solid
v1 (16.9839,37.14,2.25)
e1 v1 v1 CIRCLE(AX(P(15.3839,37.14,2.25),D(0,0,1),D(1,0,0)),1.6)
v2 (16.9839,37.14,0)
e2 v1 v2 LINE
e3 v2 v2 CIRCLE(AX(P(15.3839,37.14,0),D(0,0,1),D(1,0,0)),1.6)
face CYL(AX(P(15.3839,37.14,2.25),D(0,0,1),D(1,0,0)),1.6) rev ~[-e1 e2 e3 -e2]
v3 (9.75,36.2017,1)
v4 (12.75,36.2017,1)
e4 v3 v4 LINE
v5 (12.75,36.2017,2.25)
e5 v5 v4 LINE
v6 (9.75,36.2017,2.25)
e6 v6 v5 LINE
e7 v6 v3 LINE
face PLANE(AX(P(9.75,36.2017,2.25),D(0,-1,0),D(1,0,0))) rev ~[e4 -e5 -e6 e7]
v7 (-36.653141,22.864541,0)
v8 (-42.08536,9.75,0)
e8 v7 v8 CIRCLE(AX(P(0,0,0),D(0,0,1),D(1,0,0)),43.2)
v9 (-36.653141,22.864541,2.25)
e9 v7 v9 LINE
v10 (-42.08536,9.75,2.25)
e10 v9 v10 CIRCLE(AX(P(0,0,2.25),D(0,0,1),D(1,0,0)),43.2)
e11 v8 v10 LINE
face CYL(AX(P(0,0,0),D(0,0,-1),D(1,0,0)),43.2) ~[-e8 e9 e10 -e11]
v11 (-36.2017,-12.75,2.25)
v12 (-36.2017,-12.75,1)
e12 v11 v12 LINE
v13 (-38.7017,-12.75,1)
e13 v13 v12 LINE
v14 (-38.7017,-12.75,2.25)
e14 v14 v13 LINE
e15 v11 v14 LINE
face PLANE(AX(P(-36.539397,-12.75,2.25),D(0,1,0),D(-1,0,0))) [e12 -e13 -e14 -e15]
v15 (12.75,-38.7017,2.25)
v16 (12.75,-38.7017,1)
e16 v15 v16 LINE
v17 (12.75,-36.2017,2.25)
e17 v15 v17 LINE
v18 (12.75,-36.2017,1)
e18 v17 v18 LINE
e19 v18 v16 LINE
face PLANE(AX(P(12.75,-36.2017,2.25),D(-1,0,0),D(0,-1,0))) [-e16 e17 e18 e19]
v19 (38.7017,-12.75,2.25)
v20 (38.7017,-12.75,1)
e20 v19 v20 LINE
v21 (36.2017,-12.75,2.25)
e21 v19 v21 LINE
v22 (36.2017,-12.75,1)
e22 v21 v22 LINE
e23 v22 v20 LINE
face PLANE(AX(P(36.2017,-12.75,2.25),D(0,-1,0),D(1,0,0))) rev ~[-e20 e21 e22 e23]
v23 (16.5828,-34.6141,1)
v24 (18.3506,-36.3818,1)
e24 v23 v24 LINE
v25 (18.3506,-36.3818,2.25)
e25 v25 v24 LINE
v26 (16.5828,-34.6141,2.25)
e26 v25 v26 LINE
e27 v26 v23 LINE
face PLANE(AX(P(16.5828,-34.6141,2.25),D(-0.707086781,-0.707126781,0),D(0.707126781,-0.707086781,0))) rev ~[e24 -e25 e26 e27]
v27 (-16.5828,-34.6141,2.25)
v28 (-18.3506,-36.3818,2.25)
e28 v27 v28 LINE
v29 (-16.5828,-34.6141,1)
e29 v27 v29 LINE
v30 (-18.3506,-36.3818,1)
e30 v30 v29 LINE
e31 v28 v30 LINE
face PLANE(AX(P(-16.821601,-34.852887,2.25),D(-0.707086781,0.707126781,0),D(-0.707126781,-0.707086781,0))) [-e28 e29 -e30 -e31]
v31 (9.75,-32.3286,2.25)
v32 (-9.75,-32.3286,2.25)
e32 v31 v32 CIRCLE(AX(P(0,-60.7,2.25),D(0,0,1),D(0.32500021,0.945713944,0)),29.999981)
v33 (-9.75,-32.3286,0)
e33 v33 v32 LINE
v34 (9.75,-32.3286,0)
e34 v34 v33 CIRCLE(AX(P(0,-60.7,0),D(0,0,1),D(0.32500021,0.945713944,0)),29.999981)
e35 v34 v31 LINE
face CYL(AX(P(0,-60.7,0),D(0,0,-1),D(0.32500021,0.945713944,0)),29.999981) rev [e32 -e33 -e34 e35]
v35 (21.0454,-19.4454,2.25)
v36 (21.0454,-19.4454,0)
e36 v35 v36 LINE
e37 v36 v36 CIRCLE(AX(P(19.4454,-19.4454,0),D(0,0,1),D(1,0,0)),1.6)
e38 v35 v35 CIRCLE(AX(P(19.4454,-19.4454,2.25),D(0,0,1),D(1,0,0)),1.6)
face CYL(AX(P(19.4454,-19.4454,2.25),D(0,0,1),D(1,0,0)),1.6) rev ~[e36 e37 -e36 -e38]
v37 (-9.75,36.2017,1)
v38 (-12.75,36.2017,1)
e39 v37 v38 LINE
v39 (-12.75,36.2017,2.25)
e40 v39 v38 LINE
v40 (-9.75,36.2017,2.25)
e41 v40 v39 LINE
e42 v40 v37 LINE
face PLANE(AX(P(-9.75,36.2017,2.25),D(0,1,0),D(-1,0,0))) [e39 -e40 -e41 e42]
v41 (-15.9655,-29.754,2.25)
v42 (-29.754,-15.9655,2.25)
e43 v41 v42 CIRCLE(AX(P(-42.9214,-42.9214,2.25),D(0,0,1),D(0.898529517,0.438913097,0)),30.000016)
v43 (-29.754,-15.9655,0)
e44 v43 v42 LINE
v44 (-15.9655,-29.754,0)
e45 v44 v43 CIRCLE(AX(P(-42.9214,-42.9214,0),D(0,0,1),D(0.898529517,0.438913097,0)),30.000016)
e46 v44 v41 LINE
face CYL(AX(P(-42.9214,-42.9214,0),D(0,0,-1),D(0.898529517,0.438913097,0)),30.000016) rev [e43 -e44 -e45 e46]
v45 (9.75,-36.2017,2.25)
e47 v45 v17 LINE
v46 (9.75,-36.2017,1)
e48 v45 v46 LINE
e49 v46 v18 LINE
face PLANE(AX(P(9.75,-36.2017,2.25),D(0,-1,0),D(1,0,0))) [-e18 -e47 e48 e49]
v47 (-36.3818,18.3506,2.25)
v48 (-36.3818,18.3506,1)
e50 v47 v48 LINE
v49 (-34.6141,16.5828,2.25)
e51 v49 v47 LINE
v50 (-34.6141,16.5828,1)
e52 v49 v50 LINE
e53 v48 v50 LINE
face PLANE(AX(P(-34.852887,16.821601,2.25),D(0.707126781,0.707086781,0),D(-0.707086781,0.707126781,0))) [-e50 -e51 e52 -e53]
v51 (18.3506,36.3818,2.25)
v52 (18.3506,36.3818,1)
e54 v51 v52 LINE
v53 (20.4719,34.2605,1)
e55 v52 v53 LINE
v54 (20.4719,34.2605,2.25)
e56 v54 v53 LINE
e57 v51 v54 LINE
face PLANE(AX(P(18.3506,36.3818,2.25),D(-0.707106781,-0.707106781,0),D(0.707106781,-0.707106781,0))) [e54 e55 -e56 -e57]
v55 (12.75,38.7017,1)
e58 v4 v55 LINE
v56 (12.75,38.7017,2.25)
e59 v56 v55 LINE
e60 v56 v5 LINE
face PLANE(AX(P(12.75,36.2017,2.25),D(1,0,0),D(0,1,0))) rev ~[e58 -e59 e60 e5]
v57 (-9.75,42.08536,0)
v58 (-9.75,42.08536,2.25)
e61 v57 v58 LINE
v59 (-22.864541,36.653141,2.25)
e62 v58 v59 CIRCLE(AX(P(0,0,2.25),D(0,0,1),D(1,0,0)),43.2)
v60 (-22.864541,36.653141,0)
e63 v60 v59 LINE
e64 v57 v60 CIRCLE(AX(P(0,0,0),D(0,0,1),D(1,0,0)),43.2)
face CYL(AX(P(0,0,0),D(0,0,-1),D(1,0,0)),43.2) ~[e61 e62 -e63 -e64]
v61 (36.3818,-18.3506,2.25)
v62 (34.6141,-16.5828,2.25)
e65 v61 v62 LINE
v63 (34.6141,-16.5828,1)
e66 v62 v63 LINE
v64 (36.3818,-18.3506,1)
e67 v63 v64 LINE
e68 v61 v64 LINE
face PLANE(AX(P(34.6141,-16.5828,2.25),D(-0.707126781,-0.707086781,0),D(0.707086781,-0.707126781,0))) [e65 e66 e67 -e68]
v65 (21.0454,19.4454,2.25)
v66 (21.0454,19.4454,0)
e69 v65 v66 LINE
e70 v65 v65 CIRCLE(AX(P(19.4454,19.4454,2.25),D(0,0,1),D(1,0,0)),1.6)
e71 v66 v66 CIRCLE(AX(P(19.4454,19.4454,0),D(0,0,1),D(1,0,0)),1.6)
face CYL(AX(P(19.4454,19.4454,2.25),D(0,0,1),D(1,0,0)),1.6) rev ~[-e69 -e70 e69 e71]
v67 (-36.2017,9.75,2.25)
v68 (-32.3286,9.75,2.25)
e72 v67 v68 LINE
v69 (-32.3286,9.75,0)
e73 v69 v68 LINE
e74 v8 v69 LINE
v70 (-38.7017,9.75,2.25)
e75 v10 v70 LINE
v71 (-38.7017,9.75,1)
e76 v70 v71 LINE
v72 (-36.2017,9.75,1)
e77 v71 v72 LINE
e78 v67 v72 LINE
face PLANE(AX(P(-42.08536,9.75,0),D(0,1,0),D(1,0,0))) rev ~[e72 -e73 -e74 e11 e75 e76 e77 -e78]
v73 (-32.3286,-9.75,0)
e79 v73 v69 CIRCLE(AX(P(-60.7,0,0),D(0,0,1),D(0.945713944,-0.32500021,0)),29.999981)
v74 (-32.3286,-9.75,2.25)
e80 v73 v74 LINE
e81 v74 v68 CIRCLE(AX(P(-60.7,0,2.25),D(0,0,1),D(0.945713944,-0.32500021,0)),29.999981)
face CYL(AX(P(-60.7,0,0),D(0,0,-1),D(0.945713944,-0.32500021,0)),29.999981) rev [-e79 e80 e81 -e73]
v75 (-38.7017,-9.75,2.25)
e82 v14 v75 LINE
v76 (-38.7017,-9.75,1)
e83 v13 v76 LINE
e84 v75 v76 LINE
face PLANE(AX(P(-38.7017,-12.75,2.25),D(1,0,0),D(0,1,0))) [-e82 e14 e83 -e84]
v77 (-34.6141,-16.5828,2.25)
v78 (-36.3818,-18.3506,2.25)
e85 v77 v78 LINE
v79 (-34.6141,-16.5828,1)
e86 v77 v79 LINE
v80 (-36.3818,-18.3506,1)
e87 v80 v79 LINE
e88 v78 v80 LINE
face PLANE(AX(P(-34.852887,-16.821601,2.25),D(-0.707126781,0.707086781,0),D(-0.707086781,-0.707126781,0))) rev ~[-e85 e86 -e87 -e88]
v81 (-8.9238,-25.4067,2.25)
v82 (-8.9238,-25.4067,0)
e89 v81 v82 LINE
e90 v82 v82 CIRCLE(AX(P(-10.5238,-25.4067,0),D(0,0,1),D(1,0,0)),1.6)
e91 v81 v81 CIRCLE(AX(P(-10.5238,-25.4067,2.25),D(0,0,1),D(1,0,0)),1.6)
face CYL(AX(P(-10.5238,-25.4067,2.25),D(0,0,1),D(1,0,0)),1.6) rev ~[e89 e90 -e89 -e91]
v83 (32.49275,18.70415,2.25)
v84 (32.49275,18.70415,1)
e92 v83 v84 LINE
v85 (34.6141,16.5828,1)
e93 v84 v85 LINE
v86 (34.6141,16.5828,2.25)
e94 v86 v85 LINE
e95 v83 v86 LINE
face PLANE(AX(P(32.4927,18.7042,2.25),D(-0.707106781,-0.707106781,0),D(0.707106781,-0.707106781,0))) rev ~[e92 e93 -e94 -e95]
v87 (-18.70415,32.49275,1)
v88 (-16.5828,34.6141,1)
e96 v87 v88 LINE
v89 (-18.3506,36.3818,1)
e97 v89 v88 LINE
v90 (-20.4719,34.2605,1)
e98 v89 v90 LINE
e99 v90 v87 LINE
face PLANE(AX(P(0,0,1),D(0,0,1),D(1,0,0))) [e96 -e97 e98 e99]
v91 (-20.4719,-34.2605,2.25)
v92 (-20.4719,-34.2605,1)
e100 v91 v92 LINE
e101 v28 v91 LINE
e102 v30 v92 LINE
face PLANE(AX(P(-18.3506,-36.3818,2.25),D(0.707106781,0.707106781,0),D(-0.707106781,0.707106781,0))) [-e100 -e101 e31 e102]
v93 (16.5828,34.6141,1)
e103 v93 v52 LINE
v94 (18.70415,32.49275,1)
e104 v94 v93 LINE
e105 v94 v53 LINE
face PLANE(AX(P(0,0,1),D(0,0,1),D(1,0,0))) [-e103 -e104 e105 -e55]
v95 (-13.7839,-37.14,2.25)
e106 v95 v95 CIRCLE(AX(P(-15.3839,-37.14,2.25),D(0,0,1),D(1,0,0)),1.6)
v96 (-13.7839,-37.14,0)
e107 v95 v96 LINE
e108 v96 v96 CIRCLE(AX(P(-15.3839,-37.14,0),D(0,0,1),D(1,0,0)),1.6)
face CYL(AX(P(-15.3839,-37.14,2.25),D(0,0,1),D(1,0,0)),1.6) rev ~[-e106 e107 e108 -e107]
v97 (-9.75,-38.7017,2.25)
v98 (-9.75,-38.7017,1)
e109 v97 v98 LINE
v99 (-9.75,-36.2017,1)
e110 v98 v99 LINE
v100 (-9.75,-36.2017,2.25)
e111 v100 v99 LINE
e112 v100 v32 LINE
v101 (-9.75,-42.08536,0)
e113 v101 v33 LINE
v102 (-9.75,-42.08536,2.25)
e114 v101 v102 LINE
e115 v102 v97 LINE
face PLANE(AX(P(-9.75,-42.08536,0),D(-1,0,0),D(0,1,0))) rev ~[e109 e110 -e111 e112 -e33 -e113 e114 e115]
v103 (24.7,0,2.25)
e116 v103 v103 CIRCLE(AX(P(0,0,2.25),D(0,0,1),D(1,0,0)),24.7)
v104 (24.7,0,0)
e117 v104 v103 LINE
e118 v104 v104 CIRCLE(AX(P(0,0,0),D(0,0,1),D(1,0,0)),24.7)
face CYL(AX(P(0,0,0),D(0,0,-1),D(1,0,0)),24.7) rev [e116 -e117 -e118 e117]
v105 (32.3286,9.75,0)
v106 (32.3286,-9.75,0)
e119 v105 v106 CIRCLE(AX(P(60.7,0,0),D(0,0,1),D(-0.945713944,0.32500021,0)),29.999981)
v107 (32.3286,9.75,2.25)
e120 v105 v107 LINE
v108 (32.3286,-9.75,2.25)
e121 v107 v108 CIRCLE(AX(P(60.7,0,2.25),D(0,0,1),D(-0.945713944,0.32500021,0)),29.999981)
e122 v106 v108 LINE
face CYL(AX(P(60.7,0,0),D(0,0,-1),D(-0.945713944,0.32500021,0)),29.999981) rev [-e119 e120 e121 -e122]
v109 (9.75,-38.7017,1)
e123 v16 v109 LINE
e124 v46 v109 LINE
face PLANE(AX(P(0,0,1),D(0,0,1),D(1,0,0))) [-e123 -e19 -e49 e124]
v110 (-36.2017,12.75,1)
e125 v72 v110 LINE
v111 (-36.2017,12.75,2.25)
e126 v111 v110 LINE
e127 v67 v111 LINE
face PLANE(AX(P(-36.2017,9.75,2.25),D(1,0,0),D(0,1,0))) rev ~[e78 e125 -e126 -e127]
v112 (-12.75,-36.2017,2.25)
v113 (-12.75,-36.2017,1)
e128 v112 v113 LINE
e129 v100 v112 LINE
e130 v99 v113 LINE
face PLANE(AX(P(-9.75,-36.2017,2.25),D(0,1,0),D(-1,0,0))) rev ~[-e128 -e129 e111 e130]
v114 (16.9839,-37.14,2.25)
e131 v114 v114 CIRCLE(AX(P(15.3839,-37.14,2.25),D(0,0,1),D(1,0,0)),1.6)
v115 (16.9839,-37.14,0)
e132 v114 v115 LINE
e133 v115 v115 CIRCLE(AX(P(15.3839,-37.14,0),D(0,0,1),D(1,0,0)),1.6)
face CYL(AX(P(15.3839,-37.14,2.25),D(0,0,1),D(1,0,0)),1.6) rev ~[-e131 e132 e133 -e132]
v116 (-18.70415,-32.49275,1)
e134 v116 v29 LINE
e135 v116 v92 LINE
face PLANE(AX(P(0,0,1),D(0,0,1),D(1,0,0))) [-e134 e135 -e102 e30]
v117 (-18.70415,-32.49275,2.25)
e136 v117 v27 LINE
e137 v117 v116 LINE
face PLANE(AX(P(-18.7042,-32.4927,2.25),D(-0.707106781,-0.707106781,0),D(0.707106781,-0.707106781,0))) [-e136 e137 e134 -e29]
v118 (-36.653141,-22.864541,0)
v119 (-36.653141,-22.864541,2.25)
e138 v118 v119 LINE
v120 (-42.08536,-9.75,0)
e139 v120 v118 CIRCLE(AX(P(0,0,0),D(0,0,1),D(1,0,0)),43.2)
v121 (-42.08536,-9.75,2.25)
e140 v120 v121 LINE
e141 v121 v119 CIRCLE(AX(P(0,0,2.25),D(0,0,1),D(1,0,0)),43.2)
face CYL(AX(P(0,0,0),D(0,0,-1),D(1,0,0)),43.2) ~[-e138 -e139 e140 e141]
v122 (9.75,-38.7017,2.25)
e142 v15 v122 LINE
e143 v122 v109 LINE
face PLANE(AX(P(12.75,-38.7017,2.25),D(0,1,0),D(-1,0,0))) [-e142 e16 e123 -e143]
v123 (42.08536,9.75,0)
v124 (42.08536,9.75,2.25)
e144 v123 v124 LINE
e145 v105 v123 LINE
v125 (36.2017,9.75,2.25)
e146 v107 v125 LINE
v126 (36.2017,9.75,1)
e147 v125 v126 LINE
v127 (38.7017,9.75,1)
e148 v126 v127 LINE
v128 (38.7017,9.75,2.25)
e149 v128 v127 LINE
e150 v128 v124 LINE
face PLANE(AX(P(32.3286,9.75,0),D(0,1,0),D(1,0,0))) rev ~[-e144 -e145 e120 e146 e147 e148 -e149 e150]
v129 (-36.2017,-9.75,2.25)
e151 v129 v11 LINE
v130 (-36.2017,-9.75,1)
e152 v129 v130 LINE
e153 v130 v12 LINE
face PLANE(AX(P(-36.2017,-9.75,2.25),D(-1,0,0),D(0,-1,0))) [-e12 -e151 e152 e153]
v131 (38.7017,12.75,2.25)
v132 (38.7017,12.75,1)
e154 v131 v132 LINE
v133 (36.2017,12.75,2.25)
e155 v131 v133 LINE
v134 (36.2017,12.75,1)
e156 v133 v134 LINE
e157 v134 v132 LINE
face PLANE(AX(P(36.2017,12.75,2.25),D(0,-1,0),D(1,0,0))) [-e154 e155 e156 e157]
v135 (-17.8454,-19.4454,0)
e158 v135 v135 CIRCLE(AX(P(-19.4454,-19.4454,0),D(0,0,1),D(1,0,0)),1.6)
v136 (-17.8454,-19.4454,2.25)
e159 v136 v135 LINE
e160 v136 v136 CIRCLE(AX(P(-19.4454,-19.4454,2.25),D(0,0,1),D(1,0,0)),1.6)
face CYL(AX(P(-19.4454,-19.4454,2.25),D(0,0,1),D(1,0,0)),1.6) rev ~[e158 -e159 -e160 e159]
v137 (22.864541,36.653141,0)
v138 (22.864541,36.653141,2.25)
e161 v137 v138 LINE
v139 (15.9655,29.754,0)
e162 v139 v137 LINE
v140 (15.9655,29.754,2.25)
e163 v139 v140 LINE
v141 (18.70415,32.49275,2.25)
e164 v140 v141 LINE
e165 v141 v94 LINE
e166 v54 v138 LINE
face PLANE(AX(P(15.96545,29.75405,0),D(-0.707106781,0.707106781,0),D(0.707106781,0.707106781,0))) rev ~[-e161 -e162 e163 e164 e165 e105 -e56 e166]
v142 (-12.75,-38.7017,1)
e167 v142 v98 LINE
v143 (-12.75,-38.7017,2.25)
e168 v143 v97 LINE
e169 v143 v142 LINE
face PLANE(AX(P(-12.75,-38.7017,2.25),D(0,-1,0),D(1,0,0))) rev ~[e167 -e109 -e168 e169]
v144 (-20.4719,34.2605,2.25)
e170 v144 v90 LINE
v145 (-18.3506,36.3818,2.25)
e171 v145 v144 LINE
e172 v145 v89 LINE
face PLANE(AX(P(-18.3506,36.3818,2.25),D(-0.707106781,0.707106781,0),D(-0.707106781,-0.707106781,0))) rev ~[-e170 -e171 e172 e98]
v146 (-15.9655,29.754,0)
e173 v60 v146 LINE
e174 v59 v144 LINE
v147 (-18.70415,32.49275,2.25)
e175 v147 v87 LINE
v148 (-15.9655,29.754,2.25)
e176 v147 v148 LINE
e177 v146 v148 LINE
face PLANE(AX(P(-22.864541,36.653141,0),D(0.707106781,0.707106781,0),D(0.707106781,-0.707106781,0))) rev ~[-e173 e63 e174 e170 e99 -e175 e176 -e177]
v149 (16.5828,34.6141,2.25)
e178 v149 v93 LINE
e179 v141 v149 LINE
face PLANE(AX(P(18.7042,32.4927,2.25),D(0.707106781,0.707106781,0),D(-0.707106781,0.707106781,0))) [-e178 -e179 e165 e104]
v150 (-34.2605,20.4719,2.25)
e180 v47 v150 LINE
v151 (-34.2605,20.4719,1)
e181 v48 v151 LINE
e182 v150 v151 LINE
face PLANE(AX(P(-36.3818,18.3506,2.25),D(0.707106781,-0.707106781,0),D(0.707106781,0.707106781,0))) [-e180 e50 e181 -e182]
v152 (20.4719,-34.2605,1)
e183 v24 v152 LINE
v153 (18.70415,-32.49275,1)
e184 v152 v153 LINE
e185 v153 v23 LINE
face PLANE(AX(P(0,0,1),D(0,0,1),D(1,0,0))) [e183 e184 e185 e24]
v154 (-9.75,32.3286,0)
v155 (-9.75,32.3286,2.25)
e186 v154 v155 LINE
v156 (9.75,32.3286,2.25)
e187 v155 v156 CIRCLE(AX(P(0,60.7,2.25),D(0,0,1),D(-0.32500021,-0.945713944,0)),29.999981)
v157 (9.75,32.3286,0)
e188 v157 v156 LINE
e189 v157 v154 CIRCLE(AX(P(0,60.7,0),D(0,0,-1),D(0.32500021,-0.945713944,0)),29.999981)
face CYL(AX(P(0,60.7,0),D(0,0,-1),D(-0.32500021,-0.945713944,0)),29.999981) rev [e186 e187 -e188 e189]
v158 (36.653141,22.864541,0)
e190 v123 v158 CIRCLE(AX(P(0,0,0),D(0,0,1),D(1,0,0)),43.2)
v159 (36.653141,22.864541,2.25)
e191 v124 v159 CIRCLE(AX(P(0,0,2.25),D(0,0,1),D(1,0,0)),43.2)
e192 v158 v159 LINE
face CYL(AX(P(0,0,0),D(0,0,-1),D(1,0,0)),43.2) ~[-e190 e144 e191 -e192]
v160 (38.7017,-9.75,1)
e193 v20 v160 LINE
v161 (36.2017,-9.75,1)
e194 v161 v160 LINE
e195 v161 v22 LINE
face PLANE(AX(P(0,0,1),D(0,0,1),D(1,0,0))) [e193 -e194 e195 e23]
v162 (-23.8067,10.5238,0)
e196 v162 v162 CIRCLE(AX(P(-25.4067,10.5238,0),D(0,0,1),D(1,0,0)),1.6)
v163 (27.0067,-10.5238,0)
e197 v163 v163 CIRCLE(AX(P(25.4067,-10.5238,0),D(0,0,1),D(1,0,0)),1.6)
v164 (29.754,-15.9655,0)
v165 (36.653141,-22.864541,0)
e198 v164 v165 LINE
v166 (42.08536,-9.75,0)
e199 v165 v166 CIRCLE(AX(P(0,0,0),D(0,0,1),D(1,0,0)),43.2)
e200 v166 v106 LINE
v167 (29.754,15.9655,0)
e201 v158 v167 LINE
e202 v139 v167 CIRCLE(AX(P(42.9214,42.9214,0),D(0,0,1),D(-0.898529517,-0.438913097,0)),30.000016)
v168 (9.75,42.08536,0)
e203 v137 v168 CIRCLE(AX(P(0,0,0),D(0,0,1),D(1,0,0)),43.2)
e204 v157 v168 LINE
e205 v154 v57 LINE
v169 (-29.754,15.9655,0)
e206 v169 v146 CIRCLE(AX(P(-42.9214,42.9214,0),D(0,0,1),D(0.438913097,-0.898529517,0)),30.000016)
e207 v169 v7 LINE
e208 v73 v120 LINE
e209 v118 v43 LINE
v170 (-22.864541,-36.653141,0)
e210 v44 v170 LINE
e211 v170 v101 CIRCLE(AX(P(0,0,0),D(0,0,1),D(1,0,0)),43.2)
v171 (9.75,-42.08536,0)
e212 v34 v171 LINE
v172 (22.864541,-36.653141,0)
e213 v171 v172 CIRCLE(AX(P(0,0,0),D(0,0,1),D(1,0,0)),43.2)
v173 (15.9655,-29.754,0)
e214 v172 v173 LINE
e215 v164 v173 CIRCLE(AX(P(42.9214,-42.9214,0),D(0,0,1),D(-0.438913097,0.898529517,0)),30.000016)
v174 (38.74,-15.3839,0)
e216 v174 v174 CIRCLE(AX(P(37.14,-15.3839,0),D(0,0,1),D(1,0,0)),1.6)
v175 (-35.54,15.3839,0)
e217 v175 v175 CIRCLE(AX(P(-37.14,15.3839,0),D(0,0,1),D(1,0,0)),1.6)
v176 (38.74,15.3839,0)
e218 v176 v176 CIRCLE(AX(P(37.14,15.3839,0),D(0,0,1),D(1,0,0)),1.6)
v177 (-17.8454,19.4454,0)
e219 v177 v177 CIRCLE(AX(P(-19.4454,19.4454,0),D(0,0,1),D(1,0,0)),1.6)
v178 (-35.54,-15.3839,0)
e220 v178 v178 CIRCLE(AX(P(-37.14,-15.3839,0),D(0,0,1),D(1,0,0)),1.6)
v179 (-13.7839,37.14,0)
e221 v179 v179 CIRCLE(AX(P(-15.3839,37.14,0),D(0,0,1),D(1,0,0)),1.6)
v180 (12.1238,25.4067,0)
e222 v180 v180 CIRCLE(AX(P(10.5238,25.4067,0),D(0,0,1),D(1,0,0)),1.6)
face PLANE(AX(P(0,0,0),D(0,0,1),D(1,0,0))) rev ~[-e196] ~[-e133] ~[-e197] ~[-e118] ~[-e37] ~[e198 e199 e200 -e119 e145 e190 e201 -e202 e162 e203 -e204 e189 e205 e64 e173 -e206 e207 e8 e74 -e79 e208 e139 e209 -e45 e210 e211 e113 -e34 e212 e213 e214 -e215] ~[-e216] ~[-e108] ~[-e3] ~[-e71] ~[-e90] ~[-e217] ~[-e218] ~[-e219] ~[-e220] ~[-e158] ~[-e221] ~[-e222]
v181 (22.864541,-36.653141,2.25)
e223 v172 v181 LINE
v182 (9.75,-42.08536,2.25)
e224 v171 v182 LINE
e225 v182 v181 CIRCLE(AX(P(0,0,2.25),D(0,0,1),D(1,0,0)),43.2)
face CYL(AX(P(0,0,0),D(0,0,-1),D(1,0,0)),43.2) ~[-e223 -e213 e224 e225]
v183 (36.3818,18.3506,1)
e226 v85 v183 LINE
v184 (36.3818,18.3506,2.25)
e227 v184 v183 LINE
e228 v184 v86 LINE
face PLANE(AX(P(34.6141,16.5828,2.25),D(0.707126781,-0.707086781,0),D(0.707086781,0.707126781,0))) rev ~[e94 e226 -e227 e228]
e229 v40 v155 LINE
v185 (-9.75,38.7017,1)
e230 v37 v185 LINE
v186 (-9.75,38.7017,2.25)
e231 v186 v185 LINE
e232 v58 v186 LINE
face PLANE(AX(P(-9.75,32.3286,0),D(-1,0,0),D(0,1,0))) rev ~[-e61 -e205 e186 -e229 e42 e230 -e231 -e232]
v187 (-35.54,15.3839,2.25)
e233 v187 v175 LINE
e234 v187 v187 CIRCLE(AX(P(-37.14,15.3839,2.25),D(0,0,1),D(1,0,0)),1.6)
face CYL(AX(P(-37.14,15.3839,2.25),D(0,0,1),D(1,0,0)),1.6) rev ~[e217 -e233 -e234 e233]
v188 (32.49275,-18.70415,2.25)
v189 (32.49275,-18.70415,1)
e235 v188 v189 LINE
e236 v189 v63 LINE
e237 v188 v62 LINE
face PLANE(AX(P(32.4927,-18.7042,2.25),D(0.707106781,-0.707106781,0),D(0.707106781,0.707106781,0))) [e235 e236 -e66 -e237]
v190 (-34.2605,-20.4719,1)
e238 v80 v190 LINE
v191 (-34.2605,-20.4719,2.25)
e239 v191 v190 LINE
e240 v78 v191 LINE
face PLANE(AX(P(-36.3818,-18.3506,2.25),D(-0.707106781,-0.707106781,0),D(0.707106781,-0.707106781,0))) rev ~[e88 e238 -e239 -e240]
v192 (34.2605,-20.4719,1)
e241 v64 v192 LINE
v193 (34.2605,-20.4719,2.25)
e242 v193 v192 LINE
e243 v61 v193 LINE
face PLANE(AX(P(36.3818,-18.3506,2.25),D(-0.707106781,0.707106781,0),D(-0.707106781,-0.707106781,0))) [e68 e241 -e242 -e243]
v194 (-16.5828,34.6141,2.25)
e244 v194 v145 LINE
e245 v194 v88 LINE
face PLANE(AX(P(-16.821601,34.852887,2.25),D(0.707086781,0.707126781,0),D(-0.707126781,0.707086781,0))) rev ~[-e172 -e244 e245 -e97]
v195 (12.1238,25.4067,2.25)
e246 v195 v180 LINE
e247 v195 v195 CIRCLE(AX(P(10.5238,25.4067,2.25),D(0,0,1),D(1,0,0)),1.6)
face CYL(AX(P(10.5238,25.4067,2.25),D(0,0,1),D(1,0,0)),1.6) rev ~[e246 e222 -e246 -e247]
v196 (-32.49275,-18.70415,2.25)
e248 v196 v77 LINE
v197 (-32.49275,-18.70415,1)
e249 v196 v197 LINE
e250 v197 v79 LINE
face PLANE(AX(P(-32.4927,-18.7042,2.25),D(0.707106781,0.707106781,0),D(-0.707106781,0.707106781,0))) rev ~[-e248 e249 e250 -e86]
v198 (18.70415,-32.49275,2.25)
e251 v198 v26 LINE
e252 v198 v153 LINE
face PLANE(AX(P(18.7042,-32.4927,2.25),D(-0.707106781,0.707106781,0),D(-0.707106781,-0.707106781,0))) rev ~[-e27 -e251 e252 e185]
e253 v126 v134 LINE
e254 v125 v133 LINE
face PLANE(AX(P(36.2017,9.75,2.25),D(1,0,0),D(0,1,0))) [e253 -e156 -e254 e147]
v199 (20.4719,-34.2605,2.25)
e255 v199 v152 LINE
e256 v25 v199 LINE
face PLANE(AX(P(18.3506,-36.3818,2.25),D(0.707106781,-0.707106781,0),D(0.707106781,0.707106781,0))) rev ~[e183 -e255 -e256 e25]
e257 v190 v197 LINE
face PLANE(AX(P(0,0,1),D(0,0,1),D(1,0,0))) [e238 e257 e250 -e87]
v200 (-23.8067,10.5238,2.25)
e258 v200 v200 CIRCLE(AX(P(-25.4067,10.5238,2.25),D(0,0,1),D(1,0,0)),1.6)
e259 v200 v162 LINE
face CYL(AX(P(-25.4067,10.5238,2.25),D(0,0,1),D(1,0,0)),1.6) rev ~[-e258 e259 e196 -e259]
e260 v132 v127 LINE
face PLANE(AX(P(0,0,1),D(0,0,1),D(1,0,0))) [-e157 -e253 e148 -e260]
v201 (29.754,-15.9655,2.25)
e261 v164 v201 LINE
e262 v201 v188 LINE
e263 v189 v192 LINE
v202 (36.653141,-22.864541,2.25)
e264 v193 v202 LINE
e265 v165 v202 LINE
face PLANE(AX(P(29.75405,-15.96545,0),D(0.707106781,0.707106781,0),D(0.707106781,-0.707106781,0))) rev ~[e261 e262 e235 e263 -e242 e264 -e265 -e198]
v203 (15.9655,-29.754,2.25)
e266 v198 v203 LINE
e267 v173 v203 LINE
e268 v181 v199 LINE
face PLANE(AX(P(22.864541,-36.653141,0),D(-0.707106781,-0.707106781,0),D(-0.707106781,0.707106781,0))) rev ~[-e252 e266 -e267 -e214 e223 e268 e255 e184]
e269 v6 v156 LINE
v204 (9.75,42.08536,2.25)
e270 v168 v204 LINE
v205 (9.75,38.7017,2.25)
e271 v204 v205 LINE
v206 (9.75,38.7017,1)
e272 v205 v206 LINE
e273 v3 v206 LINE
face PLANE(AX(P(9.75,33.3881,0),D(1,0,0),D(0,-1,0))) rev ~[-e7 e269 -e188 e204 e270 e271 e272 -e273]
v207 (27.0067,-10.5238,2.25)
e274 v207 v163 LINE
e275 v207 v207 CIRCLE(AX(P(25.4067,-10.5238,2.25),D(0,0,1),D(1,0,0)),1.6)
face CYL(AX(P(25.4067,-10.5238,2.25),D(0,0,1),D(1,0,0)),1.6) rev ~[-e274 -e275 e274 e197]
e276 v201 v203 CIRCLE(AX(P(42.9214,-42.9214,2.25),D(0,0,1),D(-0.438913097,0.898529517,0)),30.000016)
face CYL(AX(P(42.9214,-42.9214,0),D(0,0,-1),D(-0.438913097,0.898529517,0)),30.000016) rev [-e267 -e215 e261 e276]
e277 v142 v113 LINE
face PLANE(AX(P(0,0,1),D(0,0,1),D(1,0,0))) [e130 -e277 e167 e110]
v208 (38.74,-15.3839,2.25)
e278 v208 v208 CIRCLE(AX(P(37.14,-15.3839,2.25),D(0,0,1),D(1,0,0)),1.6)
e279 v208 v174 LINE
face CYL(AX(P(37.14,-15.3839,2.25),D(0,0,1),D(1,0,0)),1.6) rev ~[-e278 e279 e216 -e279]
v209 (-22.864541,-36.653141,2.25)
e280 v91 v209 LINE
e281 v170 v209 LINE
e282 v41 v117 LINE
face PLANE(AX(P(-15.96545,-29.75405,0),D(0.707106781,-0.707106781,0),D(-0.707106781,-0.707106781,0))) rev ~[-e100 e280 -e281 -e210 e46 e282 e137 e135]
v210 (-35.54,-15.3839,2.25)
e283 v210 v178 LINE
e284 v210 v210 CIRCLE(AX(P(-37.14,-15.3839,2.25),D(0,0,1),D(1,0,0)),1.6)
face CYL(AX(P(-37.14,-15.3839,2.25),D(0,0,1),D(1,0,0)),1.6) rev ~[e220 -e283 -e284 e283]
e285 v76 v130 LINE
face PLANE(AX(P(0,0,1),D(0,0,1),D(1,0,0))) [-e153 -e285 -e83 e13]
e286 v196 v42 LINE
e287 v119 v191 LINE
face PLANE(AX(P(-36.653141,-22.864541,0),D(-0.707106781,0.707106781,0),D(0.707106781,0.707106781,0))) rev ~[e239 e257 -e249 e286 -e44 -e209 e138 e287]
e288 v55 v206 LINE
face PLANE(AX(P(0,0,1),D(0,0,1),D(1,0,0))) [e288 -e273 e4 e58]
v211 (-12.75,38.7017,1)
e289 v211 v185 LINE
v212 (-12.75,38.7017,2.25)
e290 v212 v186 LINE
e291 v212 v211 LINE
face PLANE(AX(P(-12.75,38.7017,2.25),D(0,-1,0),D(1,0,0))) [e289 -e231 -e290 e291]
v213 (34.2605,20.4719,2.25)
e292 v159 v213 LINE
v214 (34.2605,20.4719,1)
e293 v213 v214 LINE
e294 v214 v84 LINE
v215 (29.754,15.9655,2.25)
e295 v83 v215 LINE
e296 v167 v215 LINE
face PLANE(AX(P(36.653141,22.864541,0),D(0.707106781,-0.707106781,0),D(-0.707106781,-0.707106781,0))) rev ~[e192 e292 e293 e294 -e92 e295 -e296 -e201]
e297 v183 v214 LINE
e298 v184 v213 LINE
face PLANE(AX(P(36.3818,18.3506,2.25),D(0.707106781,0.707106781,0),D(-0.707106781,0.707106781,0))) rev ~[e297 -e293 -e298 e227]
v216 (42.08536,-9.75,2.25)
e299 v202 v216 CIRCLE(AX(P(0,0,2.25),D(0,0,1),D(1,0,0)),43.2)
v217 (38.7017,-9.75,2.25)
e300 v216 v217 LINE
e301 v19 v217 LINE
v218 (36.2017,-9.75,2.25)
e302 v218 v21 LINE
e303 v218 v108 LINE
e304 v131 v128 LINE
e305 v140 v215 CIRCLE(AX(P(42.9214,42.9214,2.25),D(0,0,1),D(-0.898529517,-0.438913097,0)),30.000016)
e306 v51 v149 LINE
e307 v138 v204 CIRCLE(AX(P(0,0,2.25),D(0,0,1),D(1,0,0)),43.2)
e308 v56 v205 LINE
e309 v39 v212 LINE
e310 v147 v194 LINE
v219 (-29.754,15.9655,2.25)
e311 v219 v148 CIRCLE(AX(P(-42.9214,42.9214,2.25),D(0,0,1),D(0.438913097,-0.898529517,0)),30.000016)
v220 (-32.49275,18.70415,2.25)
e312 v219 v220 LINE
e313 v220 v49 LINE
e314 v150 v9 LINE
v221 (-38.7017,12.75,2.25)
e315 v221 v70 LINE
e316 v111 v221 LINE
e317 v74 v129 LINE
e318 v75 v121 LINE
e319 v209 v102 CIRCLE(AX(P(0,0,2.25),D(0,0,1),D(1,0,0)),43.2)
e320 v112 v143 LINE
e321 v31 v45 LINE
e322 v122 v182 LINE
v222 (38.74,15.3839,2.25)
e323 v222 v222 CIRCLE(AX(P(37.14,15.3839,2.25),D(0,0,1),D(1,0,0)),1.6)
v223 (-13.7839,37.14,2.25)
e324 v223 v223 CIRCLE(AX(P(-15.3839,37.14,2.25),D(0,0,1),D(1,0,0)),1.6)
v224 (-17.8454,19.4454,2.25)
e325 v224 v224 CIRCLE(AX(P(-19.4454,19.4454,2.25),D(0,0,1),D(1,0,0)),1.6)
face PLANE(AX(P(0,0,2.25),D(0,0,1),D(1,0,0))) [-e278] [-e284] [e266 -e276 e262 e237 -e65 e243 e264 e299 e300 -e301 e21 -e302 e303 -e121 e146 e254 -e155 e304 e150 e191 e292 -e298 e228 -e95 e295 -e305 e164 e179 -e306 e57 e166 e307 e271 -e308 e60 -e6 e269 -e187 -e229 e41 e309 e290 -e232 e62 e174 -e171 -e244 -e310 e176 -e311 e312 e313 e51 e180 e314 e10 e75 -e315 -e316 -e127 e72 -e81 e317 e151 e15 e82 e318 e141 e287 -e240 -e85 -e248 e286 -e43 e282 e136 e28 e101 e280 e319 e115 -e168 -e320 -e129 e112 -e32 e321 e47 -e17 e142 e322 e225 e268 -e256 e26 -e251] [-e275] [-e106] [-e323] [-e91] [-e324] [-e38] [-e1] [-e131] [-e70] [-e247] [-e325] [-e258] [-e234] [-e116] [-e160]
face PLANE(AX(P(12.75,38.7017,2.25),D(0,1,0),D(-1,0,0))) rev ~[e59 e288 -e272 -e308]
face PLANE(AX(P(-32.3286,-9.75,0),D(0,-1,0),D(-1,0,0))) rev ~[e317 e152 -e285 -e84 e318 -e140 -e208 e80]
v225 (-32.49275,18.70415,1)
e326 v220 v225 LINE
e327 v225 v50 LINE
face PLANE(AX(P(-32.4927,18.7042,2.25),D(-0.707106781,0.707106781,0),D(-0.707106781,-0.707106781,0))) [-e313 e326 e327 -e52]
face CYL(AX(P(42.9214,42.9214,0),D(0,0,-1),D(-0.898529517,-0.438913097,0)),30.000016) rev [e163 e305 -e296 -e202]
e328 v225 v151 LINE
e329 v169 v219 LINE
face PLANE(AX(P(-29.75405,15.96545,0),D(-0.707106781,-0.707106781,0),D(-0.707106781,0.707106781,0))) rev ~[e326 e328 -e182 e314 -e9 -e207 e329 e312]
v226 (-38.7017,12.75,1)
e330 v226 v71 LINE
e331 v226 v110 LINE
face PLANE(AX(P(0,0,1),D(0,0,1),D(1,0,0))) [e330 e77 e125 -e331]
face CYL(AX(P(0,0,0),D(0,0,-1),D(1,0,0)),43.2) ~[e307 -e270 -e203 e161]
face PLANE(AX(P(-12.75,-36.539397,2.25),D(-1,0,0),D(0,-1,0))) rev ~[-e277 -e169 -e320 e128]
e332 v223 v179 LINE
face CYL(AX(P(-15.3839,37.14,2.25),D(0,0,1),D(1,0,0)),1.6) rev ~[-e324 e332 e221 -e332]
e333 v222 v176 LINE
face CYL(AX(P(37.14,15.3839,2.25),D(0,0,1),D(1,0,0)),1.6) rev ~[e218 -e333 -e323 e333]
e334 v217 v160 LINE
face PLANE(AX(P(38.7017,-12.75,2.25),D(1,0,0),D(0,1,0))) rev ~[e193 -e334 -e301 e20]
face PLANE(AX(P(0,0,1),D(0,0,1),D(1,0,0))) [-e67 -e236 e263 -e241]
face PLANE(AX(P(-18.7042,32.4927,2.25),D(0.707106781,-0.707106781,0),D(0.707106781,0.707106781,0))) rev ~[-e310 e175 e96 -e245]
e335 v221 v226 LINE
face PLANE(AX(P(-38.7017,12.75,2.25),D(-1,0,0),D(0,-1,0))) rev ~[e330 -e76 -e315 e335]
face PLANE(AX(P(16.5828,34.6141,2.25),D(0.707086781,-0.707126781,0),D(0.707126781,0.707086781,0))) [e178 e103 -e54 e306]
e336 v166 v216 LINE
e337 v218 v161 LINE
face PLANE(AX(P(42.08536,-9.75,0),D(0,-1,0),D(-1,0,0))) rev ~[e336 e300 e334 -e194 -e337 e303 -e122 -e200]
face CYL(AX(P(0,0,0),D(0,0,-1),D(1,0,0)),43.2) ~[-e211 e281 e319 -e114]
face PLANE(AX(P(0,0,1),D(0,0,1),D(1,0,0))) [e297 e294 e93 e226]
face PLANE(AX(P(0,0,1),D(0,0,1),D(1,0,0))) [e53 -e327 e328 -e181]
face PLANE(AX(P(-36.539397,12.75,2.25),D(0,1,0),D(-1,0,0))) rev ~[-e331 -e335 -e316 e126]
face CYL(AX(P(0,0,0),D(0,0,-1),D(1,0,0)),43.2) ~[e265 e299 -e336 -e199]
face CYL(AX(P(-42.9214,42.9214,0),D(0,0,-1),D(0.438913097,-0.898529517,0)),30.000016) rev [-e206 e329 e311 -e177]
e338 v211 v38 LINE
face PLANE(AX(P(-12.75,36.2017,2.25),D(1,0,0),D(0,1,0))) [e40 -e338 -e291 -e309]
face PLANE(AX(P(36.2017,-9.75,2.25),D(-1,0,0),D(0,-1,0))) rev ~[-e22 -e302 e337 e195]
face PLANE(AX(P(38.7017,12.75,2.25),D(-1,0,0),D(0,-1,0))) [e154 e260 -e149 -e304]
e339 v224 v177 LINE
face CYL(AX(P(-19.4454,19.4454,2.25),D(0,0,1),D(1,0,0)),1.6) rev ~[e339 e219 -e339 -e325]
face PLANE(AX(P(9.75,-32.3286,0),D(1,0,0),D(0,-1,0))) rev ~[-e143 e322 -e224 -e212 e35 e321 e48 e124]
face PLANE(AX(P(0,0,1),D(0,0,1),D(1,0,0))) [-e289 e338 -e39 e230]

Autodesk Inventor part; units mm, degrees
ref_plane "YZ Plane" through (0, 0, 0) normal (1, 0, 0) x (0, 1, 0)
ref_plane "XZ Plane" through (0, 0, 0) normal (0, 1, 0) x (-1, 0, 0)
ref_plane "XY Plane" through (0, 0, 0) normal (0, 0, 1) x (1, 0, 0)
sketch "スケッチ1" plane through (0, 0, 0) normal (0, 0, 1) x (1, 0, 0)
  arc A0 (-9.75, 33.3881) -> (9.75, 33.3881) centre (0, 60.7) ccw
  arc A1 (-9.75, 32.3286) -> (9.75, 32.3286) centre (0, 60.7) ccw
  line L0 (-9.75, 57.7) -> (9.75, 57.7)
  line L1 (9.75, 57.7) -> (9.75, 30.7)
  line L2 (9.75, 30.7) -> (-9.75, 30.7)
  line L3 (-9.75, 30.7) -> (-9.75, 57.7)
  line L4 (-9.75, 44.7) -> (9.75, 44.7)
  circle A2 centre (0, 0) radius 23.7 construction
  circle A3 centre (0, 0) radius 24.7
  circle A4 centre (0, 0) radius 30.7 construction
  circle A5 centre (0, 0) radius 44.7
  line L5 (-28.6025, 14.8139) -> (-47.6944, 33.9058)
  arc A6 (-29.754, 15.9655) -> (-15.9655, 29.754) centre (-42.9214, 42.9214) ccw
  line L6 (-33.9058, 47.6944) -> (-14.8139, 28.6025)
  line L7 (-30.7, -9.75) -> (-57.7, -9.75)
  arc A7 (-32.3286, -9.75) -> (-32.3286, 9.75) centre (-60.7, 0) ccw
  line L8 (-57.7, 9.75) -> (-30.7, 9.75)
  line L9 (-14.8139, -28.6025) -> (-33.9058, -47.6944)
  arc A8 (-15.9655, -29.754) -> (-29.754, -15.9655) centre (-42.9214, -42.9214) ccw
  line L10 (-47.6944, -33.9058) -> (-28.6025, -14.8139)
  line L11 (9.75, -30.7) -> (9.75, -57.7)
  arc A9 (9.75, -32.3286) -> (-9.75, -32.3286) centre (0, -60.7) ccw
  line L12 (-9.75, -57.7) -> (-9.75, -30.7)
  line L13 (28.6025, -14.8139) -> (47.6944, -33.9058)
  arc A10 (29.754, -15.9655) -> (15.9655, -29.754) centre (42.9214, -42.9214) ccw
  line L14 (33.9058, -47.6944) -> (14.8139, -28.6025)
  line L15 (30.7, 9.75) -> (57.7, 9.75)
  arc A11 (32.3286, 9.75) -> (32.3286, -9.75) centre (60.7, 0) ccw
  line L16 (57.7, -9.75) -> (30.7, -9.75)
  line L17 (14.8139, 28.6025) -> (33.9058, 47.6944)
  arc A12 (15.9655, 29.754) -> (29.754, 15.9655) centre (42.9214, 42.9214) ccw
  line L18 (47.6944, 33.9058) -> (28.6025, 14.8139)
  circle A13 centre (0, 0) radius 43.2
  point P0 (0, 57.7)
  point P1 (-30.5033, 16.7147)
  point P2 (-24.7134, 38.502)
  point P3 (-16.7147, 30.5033)
  point P4 (-33.3881, -9.75)
  point P5 (-44.7, 9.75)
  point P6 (-33.3881, 9.75)
  point P7 (-16.7147, -30.5033)
  point P8 (-38.502, -24.7134)
  point P9 (-30.5033, -16.7147)
  point P10 (9.75, -33.3881)
  point P11 (-9.75, -44.7)
  point P12 (-9.75, -33.3881)
  point P13 (30.5033, -16.7147)
  point P14 (24.7134, -38.502)
  point P15 (16.7147, -30.5033)
  point P16 (33.3881, 9.75)
  point P17 (44.7, -9.75)
  point P18 (33.3881, -9.75)
  point P19 (16.7147, 30.5033)
  point P20 (38.502, 24.7134)
  point P21 (30.5033, 16.7147)
  point P22 (36.6531, -22.8646)
  point P23 (42.0854, -9.75)
  point P24 (42.0854, 9.75)
  point P25 (36.6531, 22.8646)
  point P26 (22.8646, 36.6531)
  point P27 (9.75, 42.0854)
  point P28 (-9.75, 42.0854)
  point P29 (-22.8646, 36.6531)
  point P30 (-36.6531, 22.8646)
  point P31 (-42.0854, 9.75)
  point P32 (-42.0854, -9.75)
  point P33 (-36.6531, -22.8646)
  point P34 (-22.8646, -36.6531)
  point P35 (-9.75, -42.0854)
  point P36 (9.75, -42.0854)
  point P37 (22.8646, -36.6531)
  point P38 (0, 30.7)
  dimension "d2" = 14
  dimension "d3" = 13
  dimension "d4" = 19.5
  dimension "d7" = 47.4
  dimension "d8" = 1
  dimension "d9" = 29
  dimension "d10" = 1
  dimension "d13" = 6
  dimension "d16" = 360
  dimension "d18" = 1.5
  dimension "d108" = 14
  dimension "d109" = 6
extrude "押し出し1" add sketch "スケッチ1" along normal blind 2.25 contours L3 L2 L1 A13 L17 A12 L18 L15 A11 L16 L13 A10 L14 L11 A9 L12 L9 A8 L10 L7 A7 L8 L5 A6 L6 | A1 L2 L3 | L1 L2 A1
sketch "スケッチ2" plane through (0, 0, 2.25) normal (0, 0, 1) x (1, 0, 0)
  circle A0 centre (-15.3839, 37.14) radius 1.6
  line L0 (-15.3839, 37.14) -> (0, 0) construction
  line L1 (-9.75, 32.3286) -> (-9.75, 42.0854) projected
  line L2 (-22.8646, 36.6531) -> (-15.9655, 29.754) projected
  circle A1 centre (0, 0) radius 40.2 construction
  circle A2 centre (0, 0) radius 43.2 construction
  arc A3 (-9.75, 42.0854) -> (9.75, 42.0854) centre (0, 0) ccw projected
  circle A4 centre (-10.5238, 25.4067) radius 1.6
  line L3 (-10.5238, 25.4067) -> (-13.2002, 24.2981)
  circle A5 centre (0, 0) radius 24.7 projected
  circle A6 centre (-28.4257, 28.4257) radius 1.6
  circle A7 centre (-19.4454, 19.4454) radius 1.6
  circle A8 centre (-37.14, 15.3839) radius 1.6
  circle A9 centre (-25.4067, 10.5238) radius 1.6
  circle A10 centre (-40.2, 0) radius 1.6
  circle A11 centre (-27.5, 0) radius 1.6
  circle A12 centre (-37.14, -15.3839) radius 1.6
  circle A13 centre (-25.4067, -10.5238) radius 1.6
  circle A14 centre (-28.4257, -28.4257) radius 1.6
  circle A15 centre (-19.4454, -19.4454) radius 1.6
  circle A16 centre (-15.3839, -37.14) radius 1.6
  circle A17 centre (-10.5238, -25.4067) radius 1.6
  circle A18 centre (0, -40.2) radius 1.6
  circle A19 centre (0, -27.5) radius 1.6
  circle A20 centre (15.3839, -37.14) radius 1.6
  circle A21 centre (10.5238, -25.4067) radius 1.6
  circle A22 centre (28.4257, -28.4257) radius 1.6
  circle A23 centre (19.4454, -19.4454) radius 1.6
  circle A24 centre (37.14, -15.3839) radius 1.6
  circle A25 centre (25.4067, -10.5238) radius 1.6
  circle A26 centre (40.2, 0) radius 1.6
  circle A27 centre (27.5, 0) radius 1.6
  circle A28 centre (37.14, 15.3839) radius 1.6
  circle A29 centre (25.4067, 10.5238) radius 1.6
  circle A30 centre (28.4257, 28.4257) radius 1.6
  circle A31 centre (19.4454, 19.4454) radius 1.6
  circle A32 centre (15.3839, 37.14) radius 1.6
  circle A33 centre (10.5238, 25.4067) radius 1.6
  circle A34 centre (0, 40.2) radius 1.6
  circle A35 centre (0, 27.5) radius 1.6
  point P0 (-9.75, 57.7)
  point P1 (-9.75, 33.3881)
  dimension "d25" = 3
  dimension "d21" = 3.2
  dimension "d22" = 22.5
  dimension "d23" = 22.5
  dimension "d32" = 27.5
  dimension "d34" = 49.4
  dimension "d37" = 360
extrude "押し出し2" cut sketch "スケッチ2" against normal through all contours A0 | A7 | A8 | A9 | A12 | A15 | A16 | A17 | A20 | A23 | A24 | A25 | A28 | A31 | A32 | A33
sketch "スケッチ3" plane through (0, 0, 2.25) normal (0, 0, 1) x (1, 0, 0)
  line L0 (-9.75, 36.2017) -> (-12.75, 36.2017)
  line L1 (-12.75, 36.2017) -> (-12.75, 38.7017)
  line L2 (-12.75, 38.7017) -> (-9.75, 38.7017)
  line L3 (-9.75, 38.7017) -> (-9.75, 36.2017)
  line L4 (9.75, 36.2017) -> (12.75, 36.2017)
  line L5 (12.75, 36.2017) -> (12.75, 38.7017)
  line L6 (12.75, 38.7017) -> (9.75, 38.7017)
  line L7 (9.75, 38.7017) -> (9.75, 36.2017)
  line L8 (-32.4927, 18.7042) -> (-34.6141, 16.5828)
  line L9 (-34.6141, 16.5828) -> (-36.3818, 18.3506)
  line L10 (-36.3818, 18.3506) -> (-34.2605, 20.4719)
  line L11 (-34.2605, 20.4719) -> (-32.4927, 18.7042)
  line L12 (-20.4719, 34.2605) -> (-18.7042, 32.4927)
  line L13 (-18.7042, 32.4927) -> (-16.5828, 34.6141)
  line L14 (-16.5828, 34.6141) -> (-18.3506, 36.3818)
  line L15 (-18.3506, 36.3818) -> (-20.4719, 34.2605)
  line L16 (-36.2017, -9.75) -> (-36.2017, -12.75)
  line L17 (-36.2017, -12.75) -> (-38.7017, -12.75)
  line L18 (-38.7017, -12.75) -> (-38.7017, -9.75)
  line L19 (-38.7017, -9.75) -> (-36.2017, -9.75)
  line L20 (-38.7017, 9.75) -> (-36.2017, 9.75)
  line L21 (-36.2017, 9.75) -> (-36.2017, 12.75)
  line L22 (-36.2017, 12.75) -> (-38.7017, 12.75)
  line L23 (-38.7017, 12.75) -> (-38.7017, 9.75)
  line L24 (-18.7042, -32.4927) -> (-16.5828, -34.6141)
  line L25 (-16.5828, -34.6141) -> (-18.3506, -36.3818)
  line L26 (-18.3506, -36.3818) -> (-20.4719, -34.2605)
  line L27 (-20.4719, -34.2605) -> (-18.7042, -32.4927)
  line L28 (-34.2605, -20.4719) -> (-32.4927, -18.7042)
  line L29 (-32.4927, -18.7042) -> (-34.6141, -16.5828)
  line L30 (-34.6141, -16.5828) -> (-36.3818, -18.3506)
  line L31 (-36.3818, -18.3506) -> (-34.2605, -20.4719)
  line L32 (9.75, -36.2017) -> (12.75, -36.2017)
  line L33 (12.75, -36.2017) -> (12.75, -38.7017)
  line L34 (12.75, -38.7017) -> (9.75, -38.7017)
  line L35 (9.75, -38.7017) -> (9.75, -36.2017)
  line L36 (-9.75, -38.7017) -> (-9.75, -36.2017)
  line L37 (-9.75, -36.2017) -> (-12.75, -36.2017)
  line L38 (-12.75, -36.2017) -> (-12.75, -38.7017)
  line L39 (-12.75, -38.7017) -> (-9.75, -38.7017)
  line L40 (32.4927, -18.7042) -> (34.6141, -16.5828)
  line L41 (34.6141, -16.5828) -> (36.3818, -18.3506)
  line L42 (36.3818, -18.3506) -> (34.2605, -20.4719)
  line L43 (34.2605, -20.4719) -> (32.4927, -18.7042)
  line L44 (20.4719, -34.2605) -> (18.7042, -32.4927)
  line L45 (18.7042, -32.4927) -> (16.5828, -34.6141)
  line L46 (16.5828, -34.6141) -> (18.3506, -36.3818)
  line L47 (18.3506, -36.3818) -> (20.4719, -34.2605)
  line L48 (36.2017, 9.75) -> (36.2017, 12.75)
  line L49 (36.2017, 12.75) -> (38.7017, 12.75)
  line L50 (38.7017, 12.75) -> (38.7017, 9.75)
  line L51 (38.7017, 9.75) -> (36.2017, 9.75)
  line L52 (38.7017, -9.75) -> (36.2017, -9.75)
  line L53 (36.2017, -9.75) -> (36.2017, -12.75)
  line L54 (36.2017, -12.75) -> (38.7017, -12.75)
  line L55 (38.7017, -12.75) -> (38.7017, -9.75)
  line L56 (18.7042, 32.4927) -> (16.5828, 34.6141)
  line L57 (16.5828, 34.6141) -> (18.3506, 36.3818)
  line L58 (18.3506, 36.3818) -> (20.4719, 34.2605)
  line L59 (20.4719, 34.2605) -> (18.7042, 32.4927)
  line L60 (34.2605, 20.4719) -> (32.4927, 18.7042)
  line L61 (32.4927, 18.7042) -> (34.6141, 16.5828)
  line L62 (34.6141, 16.5828) -> (36.3818, 18.3506)
  line L63 (36.3818, 18.3506) -> (34.2605, 20.4719)
  line L64 (-9.75, 32.3286) -> (-9.75, 42.0854) projected
  line L65 (9.75, 42.0854) -> (9.75, 32.3286) projected
  circle A0 centre (-15.3839, 37.14) radius 1.6 projected
  circle A1 centre (0, 0) radius 38.7
  circle A2 centre (0, 0) radius 24.7 projected
  point P0 (-9.75, 37.4517)
  point P1 (-33.3766, 19.588)
  point P2 (-37.4517, -9.75)
  point P3 (-19.588, -33.3766)
  point P4 (9.75, -37.4517)
  point P5 (33.3766, -19.588)
  point P6 (37.4517, 9.75)
  point P7 (19.588, 33.3766)
  point P8 (-9.75, 33.3881)
  point P9 (9.75, 33.3881)
  point P10 (9.75, 37.4517)
  dimension "d40" = 2.5
  dimension "d45" = 360
  dimension "d105" = 3
  dimension "d107" = 14
extrude "押し出し3" cut sketch "スケッチ3" against normal blind 1.25 contours L0 L1 A1 L3 | A1 L1 L2 L3 | A1 L5 L4 L7 | L7 L6 L5 A1 | A1 L59 L56 L57 | L57 L58 L59 A1 | A1 L12 L15 L14 | L14 L13 L12 A1 | A1 L62 L61 L60 | L60 L63 L62 A1 | A1 L9 L10 L11 | L11 L8 L9 A1 | A1 L51 L48 L49 | L49 L50 L51 A1 | A1 L20 L23 L22 | L22 L21 L20 A1 | A1 L17 L18 L19 | L19 L16 L17 A1 | A1 L54 L53 L52 | L52 L55 L54 A1 | A1 L28 L31 L30 | L30 L29 L28 A1 | A1 L43 L40 L41 | L41 L42 L43 A1 | A1 L25 L26 L27 | L27 L24 L25 A1 | A1 L46 L45 L44 | L44 L47 L46 A1 | A1 L36 L39 L38 | L38 L37 L36 A1 | A1 L35 L32 L33 | L33 L34 L35 A1
equation "\"d22\" = d23"
properties part number "wheel_body_front"
